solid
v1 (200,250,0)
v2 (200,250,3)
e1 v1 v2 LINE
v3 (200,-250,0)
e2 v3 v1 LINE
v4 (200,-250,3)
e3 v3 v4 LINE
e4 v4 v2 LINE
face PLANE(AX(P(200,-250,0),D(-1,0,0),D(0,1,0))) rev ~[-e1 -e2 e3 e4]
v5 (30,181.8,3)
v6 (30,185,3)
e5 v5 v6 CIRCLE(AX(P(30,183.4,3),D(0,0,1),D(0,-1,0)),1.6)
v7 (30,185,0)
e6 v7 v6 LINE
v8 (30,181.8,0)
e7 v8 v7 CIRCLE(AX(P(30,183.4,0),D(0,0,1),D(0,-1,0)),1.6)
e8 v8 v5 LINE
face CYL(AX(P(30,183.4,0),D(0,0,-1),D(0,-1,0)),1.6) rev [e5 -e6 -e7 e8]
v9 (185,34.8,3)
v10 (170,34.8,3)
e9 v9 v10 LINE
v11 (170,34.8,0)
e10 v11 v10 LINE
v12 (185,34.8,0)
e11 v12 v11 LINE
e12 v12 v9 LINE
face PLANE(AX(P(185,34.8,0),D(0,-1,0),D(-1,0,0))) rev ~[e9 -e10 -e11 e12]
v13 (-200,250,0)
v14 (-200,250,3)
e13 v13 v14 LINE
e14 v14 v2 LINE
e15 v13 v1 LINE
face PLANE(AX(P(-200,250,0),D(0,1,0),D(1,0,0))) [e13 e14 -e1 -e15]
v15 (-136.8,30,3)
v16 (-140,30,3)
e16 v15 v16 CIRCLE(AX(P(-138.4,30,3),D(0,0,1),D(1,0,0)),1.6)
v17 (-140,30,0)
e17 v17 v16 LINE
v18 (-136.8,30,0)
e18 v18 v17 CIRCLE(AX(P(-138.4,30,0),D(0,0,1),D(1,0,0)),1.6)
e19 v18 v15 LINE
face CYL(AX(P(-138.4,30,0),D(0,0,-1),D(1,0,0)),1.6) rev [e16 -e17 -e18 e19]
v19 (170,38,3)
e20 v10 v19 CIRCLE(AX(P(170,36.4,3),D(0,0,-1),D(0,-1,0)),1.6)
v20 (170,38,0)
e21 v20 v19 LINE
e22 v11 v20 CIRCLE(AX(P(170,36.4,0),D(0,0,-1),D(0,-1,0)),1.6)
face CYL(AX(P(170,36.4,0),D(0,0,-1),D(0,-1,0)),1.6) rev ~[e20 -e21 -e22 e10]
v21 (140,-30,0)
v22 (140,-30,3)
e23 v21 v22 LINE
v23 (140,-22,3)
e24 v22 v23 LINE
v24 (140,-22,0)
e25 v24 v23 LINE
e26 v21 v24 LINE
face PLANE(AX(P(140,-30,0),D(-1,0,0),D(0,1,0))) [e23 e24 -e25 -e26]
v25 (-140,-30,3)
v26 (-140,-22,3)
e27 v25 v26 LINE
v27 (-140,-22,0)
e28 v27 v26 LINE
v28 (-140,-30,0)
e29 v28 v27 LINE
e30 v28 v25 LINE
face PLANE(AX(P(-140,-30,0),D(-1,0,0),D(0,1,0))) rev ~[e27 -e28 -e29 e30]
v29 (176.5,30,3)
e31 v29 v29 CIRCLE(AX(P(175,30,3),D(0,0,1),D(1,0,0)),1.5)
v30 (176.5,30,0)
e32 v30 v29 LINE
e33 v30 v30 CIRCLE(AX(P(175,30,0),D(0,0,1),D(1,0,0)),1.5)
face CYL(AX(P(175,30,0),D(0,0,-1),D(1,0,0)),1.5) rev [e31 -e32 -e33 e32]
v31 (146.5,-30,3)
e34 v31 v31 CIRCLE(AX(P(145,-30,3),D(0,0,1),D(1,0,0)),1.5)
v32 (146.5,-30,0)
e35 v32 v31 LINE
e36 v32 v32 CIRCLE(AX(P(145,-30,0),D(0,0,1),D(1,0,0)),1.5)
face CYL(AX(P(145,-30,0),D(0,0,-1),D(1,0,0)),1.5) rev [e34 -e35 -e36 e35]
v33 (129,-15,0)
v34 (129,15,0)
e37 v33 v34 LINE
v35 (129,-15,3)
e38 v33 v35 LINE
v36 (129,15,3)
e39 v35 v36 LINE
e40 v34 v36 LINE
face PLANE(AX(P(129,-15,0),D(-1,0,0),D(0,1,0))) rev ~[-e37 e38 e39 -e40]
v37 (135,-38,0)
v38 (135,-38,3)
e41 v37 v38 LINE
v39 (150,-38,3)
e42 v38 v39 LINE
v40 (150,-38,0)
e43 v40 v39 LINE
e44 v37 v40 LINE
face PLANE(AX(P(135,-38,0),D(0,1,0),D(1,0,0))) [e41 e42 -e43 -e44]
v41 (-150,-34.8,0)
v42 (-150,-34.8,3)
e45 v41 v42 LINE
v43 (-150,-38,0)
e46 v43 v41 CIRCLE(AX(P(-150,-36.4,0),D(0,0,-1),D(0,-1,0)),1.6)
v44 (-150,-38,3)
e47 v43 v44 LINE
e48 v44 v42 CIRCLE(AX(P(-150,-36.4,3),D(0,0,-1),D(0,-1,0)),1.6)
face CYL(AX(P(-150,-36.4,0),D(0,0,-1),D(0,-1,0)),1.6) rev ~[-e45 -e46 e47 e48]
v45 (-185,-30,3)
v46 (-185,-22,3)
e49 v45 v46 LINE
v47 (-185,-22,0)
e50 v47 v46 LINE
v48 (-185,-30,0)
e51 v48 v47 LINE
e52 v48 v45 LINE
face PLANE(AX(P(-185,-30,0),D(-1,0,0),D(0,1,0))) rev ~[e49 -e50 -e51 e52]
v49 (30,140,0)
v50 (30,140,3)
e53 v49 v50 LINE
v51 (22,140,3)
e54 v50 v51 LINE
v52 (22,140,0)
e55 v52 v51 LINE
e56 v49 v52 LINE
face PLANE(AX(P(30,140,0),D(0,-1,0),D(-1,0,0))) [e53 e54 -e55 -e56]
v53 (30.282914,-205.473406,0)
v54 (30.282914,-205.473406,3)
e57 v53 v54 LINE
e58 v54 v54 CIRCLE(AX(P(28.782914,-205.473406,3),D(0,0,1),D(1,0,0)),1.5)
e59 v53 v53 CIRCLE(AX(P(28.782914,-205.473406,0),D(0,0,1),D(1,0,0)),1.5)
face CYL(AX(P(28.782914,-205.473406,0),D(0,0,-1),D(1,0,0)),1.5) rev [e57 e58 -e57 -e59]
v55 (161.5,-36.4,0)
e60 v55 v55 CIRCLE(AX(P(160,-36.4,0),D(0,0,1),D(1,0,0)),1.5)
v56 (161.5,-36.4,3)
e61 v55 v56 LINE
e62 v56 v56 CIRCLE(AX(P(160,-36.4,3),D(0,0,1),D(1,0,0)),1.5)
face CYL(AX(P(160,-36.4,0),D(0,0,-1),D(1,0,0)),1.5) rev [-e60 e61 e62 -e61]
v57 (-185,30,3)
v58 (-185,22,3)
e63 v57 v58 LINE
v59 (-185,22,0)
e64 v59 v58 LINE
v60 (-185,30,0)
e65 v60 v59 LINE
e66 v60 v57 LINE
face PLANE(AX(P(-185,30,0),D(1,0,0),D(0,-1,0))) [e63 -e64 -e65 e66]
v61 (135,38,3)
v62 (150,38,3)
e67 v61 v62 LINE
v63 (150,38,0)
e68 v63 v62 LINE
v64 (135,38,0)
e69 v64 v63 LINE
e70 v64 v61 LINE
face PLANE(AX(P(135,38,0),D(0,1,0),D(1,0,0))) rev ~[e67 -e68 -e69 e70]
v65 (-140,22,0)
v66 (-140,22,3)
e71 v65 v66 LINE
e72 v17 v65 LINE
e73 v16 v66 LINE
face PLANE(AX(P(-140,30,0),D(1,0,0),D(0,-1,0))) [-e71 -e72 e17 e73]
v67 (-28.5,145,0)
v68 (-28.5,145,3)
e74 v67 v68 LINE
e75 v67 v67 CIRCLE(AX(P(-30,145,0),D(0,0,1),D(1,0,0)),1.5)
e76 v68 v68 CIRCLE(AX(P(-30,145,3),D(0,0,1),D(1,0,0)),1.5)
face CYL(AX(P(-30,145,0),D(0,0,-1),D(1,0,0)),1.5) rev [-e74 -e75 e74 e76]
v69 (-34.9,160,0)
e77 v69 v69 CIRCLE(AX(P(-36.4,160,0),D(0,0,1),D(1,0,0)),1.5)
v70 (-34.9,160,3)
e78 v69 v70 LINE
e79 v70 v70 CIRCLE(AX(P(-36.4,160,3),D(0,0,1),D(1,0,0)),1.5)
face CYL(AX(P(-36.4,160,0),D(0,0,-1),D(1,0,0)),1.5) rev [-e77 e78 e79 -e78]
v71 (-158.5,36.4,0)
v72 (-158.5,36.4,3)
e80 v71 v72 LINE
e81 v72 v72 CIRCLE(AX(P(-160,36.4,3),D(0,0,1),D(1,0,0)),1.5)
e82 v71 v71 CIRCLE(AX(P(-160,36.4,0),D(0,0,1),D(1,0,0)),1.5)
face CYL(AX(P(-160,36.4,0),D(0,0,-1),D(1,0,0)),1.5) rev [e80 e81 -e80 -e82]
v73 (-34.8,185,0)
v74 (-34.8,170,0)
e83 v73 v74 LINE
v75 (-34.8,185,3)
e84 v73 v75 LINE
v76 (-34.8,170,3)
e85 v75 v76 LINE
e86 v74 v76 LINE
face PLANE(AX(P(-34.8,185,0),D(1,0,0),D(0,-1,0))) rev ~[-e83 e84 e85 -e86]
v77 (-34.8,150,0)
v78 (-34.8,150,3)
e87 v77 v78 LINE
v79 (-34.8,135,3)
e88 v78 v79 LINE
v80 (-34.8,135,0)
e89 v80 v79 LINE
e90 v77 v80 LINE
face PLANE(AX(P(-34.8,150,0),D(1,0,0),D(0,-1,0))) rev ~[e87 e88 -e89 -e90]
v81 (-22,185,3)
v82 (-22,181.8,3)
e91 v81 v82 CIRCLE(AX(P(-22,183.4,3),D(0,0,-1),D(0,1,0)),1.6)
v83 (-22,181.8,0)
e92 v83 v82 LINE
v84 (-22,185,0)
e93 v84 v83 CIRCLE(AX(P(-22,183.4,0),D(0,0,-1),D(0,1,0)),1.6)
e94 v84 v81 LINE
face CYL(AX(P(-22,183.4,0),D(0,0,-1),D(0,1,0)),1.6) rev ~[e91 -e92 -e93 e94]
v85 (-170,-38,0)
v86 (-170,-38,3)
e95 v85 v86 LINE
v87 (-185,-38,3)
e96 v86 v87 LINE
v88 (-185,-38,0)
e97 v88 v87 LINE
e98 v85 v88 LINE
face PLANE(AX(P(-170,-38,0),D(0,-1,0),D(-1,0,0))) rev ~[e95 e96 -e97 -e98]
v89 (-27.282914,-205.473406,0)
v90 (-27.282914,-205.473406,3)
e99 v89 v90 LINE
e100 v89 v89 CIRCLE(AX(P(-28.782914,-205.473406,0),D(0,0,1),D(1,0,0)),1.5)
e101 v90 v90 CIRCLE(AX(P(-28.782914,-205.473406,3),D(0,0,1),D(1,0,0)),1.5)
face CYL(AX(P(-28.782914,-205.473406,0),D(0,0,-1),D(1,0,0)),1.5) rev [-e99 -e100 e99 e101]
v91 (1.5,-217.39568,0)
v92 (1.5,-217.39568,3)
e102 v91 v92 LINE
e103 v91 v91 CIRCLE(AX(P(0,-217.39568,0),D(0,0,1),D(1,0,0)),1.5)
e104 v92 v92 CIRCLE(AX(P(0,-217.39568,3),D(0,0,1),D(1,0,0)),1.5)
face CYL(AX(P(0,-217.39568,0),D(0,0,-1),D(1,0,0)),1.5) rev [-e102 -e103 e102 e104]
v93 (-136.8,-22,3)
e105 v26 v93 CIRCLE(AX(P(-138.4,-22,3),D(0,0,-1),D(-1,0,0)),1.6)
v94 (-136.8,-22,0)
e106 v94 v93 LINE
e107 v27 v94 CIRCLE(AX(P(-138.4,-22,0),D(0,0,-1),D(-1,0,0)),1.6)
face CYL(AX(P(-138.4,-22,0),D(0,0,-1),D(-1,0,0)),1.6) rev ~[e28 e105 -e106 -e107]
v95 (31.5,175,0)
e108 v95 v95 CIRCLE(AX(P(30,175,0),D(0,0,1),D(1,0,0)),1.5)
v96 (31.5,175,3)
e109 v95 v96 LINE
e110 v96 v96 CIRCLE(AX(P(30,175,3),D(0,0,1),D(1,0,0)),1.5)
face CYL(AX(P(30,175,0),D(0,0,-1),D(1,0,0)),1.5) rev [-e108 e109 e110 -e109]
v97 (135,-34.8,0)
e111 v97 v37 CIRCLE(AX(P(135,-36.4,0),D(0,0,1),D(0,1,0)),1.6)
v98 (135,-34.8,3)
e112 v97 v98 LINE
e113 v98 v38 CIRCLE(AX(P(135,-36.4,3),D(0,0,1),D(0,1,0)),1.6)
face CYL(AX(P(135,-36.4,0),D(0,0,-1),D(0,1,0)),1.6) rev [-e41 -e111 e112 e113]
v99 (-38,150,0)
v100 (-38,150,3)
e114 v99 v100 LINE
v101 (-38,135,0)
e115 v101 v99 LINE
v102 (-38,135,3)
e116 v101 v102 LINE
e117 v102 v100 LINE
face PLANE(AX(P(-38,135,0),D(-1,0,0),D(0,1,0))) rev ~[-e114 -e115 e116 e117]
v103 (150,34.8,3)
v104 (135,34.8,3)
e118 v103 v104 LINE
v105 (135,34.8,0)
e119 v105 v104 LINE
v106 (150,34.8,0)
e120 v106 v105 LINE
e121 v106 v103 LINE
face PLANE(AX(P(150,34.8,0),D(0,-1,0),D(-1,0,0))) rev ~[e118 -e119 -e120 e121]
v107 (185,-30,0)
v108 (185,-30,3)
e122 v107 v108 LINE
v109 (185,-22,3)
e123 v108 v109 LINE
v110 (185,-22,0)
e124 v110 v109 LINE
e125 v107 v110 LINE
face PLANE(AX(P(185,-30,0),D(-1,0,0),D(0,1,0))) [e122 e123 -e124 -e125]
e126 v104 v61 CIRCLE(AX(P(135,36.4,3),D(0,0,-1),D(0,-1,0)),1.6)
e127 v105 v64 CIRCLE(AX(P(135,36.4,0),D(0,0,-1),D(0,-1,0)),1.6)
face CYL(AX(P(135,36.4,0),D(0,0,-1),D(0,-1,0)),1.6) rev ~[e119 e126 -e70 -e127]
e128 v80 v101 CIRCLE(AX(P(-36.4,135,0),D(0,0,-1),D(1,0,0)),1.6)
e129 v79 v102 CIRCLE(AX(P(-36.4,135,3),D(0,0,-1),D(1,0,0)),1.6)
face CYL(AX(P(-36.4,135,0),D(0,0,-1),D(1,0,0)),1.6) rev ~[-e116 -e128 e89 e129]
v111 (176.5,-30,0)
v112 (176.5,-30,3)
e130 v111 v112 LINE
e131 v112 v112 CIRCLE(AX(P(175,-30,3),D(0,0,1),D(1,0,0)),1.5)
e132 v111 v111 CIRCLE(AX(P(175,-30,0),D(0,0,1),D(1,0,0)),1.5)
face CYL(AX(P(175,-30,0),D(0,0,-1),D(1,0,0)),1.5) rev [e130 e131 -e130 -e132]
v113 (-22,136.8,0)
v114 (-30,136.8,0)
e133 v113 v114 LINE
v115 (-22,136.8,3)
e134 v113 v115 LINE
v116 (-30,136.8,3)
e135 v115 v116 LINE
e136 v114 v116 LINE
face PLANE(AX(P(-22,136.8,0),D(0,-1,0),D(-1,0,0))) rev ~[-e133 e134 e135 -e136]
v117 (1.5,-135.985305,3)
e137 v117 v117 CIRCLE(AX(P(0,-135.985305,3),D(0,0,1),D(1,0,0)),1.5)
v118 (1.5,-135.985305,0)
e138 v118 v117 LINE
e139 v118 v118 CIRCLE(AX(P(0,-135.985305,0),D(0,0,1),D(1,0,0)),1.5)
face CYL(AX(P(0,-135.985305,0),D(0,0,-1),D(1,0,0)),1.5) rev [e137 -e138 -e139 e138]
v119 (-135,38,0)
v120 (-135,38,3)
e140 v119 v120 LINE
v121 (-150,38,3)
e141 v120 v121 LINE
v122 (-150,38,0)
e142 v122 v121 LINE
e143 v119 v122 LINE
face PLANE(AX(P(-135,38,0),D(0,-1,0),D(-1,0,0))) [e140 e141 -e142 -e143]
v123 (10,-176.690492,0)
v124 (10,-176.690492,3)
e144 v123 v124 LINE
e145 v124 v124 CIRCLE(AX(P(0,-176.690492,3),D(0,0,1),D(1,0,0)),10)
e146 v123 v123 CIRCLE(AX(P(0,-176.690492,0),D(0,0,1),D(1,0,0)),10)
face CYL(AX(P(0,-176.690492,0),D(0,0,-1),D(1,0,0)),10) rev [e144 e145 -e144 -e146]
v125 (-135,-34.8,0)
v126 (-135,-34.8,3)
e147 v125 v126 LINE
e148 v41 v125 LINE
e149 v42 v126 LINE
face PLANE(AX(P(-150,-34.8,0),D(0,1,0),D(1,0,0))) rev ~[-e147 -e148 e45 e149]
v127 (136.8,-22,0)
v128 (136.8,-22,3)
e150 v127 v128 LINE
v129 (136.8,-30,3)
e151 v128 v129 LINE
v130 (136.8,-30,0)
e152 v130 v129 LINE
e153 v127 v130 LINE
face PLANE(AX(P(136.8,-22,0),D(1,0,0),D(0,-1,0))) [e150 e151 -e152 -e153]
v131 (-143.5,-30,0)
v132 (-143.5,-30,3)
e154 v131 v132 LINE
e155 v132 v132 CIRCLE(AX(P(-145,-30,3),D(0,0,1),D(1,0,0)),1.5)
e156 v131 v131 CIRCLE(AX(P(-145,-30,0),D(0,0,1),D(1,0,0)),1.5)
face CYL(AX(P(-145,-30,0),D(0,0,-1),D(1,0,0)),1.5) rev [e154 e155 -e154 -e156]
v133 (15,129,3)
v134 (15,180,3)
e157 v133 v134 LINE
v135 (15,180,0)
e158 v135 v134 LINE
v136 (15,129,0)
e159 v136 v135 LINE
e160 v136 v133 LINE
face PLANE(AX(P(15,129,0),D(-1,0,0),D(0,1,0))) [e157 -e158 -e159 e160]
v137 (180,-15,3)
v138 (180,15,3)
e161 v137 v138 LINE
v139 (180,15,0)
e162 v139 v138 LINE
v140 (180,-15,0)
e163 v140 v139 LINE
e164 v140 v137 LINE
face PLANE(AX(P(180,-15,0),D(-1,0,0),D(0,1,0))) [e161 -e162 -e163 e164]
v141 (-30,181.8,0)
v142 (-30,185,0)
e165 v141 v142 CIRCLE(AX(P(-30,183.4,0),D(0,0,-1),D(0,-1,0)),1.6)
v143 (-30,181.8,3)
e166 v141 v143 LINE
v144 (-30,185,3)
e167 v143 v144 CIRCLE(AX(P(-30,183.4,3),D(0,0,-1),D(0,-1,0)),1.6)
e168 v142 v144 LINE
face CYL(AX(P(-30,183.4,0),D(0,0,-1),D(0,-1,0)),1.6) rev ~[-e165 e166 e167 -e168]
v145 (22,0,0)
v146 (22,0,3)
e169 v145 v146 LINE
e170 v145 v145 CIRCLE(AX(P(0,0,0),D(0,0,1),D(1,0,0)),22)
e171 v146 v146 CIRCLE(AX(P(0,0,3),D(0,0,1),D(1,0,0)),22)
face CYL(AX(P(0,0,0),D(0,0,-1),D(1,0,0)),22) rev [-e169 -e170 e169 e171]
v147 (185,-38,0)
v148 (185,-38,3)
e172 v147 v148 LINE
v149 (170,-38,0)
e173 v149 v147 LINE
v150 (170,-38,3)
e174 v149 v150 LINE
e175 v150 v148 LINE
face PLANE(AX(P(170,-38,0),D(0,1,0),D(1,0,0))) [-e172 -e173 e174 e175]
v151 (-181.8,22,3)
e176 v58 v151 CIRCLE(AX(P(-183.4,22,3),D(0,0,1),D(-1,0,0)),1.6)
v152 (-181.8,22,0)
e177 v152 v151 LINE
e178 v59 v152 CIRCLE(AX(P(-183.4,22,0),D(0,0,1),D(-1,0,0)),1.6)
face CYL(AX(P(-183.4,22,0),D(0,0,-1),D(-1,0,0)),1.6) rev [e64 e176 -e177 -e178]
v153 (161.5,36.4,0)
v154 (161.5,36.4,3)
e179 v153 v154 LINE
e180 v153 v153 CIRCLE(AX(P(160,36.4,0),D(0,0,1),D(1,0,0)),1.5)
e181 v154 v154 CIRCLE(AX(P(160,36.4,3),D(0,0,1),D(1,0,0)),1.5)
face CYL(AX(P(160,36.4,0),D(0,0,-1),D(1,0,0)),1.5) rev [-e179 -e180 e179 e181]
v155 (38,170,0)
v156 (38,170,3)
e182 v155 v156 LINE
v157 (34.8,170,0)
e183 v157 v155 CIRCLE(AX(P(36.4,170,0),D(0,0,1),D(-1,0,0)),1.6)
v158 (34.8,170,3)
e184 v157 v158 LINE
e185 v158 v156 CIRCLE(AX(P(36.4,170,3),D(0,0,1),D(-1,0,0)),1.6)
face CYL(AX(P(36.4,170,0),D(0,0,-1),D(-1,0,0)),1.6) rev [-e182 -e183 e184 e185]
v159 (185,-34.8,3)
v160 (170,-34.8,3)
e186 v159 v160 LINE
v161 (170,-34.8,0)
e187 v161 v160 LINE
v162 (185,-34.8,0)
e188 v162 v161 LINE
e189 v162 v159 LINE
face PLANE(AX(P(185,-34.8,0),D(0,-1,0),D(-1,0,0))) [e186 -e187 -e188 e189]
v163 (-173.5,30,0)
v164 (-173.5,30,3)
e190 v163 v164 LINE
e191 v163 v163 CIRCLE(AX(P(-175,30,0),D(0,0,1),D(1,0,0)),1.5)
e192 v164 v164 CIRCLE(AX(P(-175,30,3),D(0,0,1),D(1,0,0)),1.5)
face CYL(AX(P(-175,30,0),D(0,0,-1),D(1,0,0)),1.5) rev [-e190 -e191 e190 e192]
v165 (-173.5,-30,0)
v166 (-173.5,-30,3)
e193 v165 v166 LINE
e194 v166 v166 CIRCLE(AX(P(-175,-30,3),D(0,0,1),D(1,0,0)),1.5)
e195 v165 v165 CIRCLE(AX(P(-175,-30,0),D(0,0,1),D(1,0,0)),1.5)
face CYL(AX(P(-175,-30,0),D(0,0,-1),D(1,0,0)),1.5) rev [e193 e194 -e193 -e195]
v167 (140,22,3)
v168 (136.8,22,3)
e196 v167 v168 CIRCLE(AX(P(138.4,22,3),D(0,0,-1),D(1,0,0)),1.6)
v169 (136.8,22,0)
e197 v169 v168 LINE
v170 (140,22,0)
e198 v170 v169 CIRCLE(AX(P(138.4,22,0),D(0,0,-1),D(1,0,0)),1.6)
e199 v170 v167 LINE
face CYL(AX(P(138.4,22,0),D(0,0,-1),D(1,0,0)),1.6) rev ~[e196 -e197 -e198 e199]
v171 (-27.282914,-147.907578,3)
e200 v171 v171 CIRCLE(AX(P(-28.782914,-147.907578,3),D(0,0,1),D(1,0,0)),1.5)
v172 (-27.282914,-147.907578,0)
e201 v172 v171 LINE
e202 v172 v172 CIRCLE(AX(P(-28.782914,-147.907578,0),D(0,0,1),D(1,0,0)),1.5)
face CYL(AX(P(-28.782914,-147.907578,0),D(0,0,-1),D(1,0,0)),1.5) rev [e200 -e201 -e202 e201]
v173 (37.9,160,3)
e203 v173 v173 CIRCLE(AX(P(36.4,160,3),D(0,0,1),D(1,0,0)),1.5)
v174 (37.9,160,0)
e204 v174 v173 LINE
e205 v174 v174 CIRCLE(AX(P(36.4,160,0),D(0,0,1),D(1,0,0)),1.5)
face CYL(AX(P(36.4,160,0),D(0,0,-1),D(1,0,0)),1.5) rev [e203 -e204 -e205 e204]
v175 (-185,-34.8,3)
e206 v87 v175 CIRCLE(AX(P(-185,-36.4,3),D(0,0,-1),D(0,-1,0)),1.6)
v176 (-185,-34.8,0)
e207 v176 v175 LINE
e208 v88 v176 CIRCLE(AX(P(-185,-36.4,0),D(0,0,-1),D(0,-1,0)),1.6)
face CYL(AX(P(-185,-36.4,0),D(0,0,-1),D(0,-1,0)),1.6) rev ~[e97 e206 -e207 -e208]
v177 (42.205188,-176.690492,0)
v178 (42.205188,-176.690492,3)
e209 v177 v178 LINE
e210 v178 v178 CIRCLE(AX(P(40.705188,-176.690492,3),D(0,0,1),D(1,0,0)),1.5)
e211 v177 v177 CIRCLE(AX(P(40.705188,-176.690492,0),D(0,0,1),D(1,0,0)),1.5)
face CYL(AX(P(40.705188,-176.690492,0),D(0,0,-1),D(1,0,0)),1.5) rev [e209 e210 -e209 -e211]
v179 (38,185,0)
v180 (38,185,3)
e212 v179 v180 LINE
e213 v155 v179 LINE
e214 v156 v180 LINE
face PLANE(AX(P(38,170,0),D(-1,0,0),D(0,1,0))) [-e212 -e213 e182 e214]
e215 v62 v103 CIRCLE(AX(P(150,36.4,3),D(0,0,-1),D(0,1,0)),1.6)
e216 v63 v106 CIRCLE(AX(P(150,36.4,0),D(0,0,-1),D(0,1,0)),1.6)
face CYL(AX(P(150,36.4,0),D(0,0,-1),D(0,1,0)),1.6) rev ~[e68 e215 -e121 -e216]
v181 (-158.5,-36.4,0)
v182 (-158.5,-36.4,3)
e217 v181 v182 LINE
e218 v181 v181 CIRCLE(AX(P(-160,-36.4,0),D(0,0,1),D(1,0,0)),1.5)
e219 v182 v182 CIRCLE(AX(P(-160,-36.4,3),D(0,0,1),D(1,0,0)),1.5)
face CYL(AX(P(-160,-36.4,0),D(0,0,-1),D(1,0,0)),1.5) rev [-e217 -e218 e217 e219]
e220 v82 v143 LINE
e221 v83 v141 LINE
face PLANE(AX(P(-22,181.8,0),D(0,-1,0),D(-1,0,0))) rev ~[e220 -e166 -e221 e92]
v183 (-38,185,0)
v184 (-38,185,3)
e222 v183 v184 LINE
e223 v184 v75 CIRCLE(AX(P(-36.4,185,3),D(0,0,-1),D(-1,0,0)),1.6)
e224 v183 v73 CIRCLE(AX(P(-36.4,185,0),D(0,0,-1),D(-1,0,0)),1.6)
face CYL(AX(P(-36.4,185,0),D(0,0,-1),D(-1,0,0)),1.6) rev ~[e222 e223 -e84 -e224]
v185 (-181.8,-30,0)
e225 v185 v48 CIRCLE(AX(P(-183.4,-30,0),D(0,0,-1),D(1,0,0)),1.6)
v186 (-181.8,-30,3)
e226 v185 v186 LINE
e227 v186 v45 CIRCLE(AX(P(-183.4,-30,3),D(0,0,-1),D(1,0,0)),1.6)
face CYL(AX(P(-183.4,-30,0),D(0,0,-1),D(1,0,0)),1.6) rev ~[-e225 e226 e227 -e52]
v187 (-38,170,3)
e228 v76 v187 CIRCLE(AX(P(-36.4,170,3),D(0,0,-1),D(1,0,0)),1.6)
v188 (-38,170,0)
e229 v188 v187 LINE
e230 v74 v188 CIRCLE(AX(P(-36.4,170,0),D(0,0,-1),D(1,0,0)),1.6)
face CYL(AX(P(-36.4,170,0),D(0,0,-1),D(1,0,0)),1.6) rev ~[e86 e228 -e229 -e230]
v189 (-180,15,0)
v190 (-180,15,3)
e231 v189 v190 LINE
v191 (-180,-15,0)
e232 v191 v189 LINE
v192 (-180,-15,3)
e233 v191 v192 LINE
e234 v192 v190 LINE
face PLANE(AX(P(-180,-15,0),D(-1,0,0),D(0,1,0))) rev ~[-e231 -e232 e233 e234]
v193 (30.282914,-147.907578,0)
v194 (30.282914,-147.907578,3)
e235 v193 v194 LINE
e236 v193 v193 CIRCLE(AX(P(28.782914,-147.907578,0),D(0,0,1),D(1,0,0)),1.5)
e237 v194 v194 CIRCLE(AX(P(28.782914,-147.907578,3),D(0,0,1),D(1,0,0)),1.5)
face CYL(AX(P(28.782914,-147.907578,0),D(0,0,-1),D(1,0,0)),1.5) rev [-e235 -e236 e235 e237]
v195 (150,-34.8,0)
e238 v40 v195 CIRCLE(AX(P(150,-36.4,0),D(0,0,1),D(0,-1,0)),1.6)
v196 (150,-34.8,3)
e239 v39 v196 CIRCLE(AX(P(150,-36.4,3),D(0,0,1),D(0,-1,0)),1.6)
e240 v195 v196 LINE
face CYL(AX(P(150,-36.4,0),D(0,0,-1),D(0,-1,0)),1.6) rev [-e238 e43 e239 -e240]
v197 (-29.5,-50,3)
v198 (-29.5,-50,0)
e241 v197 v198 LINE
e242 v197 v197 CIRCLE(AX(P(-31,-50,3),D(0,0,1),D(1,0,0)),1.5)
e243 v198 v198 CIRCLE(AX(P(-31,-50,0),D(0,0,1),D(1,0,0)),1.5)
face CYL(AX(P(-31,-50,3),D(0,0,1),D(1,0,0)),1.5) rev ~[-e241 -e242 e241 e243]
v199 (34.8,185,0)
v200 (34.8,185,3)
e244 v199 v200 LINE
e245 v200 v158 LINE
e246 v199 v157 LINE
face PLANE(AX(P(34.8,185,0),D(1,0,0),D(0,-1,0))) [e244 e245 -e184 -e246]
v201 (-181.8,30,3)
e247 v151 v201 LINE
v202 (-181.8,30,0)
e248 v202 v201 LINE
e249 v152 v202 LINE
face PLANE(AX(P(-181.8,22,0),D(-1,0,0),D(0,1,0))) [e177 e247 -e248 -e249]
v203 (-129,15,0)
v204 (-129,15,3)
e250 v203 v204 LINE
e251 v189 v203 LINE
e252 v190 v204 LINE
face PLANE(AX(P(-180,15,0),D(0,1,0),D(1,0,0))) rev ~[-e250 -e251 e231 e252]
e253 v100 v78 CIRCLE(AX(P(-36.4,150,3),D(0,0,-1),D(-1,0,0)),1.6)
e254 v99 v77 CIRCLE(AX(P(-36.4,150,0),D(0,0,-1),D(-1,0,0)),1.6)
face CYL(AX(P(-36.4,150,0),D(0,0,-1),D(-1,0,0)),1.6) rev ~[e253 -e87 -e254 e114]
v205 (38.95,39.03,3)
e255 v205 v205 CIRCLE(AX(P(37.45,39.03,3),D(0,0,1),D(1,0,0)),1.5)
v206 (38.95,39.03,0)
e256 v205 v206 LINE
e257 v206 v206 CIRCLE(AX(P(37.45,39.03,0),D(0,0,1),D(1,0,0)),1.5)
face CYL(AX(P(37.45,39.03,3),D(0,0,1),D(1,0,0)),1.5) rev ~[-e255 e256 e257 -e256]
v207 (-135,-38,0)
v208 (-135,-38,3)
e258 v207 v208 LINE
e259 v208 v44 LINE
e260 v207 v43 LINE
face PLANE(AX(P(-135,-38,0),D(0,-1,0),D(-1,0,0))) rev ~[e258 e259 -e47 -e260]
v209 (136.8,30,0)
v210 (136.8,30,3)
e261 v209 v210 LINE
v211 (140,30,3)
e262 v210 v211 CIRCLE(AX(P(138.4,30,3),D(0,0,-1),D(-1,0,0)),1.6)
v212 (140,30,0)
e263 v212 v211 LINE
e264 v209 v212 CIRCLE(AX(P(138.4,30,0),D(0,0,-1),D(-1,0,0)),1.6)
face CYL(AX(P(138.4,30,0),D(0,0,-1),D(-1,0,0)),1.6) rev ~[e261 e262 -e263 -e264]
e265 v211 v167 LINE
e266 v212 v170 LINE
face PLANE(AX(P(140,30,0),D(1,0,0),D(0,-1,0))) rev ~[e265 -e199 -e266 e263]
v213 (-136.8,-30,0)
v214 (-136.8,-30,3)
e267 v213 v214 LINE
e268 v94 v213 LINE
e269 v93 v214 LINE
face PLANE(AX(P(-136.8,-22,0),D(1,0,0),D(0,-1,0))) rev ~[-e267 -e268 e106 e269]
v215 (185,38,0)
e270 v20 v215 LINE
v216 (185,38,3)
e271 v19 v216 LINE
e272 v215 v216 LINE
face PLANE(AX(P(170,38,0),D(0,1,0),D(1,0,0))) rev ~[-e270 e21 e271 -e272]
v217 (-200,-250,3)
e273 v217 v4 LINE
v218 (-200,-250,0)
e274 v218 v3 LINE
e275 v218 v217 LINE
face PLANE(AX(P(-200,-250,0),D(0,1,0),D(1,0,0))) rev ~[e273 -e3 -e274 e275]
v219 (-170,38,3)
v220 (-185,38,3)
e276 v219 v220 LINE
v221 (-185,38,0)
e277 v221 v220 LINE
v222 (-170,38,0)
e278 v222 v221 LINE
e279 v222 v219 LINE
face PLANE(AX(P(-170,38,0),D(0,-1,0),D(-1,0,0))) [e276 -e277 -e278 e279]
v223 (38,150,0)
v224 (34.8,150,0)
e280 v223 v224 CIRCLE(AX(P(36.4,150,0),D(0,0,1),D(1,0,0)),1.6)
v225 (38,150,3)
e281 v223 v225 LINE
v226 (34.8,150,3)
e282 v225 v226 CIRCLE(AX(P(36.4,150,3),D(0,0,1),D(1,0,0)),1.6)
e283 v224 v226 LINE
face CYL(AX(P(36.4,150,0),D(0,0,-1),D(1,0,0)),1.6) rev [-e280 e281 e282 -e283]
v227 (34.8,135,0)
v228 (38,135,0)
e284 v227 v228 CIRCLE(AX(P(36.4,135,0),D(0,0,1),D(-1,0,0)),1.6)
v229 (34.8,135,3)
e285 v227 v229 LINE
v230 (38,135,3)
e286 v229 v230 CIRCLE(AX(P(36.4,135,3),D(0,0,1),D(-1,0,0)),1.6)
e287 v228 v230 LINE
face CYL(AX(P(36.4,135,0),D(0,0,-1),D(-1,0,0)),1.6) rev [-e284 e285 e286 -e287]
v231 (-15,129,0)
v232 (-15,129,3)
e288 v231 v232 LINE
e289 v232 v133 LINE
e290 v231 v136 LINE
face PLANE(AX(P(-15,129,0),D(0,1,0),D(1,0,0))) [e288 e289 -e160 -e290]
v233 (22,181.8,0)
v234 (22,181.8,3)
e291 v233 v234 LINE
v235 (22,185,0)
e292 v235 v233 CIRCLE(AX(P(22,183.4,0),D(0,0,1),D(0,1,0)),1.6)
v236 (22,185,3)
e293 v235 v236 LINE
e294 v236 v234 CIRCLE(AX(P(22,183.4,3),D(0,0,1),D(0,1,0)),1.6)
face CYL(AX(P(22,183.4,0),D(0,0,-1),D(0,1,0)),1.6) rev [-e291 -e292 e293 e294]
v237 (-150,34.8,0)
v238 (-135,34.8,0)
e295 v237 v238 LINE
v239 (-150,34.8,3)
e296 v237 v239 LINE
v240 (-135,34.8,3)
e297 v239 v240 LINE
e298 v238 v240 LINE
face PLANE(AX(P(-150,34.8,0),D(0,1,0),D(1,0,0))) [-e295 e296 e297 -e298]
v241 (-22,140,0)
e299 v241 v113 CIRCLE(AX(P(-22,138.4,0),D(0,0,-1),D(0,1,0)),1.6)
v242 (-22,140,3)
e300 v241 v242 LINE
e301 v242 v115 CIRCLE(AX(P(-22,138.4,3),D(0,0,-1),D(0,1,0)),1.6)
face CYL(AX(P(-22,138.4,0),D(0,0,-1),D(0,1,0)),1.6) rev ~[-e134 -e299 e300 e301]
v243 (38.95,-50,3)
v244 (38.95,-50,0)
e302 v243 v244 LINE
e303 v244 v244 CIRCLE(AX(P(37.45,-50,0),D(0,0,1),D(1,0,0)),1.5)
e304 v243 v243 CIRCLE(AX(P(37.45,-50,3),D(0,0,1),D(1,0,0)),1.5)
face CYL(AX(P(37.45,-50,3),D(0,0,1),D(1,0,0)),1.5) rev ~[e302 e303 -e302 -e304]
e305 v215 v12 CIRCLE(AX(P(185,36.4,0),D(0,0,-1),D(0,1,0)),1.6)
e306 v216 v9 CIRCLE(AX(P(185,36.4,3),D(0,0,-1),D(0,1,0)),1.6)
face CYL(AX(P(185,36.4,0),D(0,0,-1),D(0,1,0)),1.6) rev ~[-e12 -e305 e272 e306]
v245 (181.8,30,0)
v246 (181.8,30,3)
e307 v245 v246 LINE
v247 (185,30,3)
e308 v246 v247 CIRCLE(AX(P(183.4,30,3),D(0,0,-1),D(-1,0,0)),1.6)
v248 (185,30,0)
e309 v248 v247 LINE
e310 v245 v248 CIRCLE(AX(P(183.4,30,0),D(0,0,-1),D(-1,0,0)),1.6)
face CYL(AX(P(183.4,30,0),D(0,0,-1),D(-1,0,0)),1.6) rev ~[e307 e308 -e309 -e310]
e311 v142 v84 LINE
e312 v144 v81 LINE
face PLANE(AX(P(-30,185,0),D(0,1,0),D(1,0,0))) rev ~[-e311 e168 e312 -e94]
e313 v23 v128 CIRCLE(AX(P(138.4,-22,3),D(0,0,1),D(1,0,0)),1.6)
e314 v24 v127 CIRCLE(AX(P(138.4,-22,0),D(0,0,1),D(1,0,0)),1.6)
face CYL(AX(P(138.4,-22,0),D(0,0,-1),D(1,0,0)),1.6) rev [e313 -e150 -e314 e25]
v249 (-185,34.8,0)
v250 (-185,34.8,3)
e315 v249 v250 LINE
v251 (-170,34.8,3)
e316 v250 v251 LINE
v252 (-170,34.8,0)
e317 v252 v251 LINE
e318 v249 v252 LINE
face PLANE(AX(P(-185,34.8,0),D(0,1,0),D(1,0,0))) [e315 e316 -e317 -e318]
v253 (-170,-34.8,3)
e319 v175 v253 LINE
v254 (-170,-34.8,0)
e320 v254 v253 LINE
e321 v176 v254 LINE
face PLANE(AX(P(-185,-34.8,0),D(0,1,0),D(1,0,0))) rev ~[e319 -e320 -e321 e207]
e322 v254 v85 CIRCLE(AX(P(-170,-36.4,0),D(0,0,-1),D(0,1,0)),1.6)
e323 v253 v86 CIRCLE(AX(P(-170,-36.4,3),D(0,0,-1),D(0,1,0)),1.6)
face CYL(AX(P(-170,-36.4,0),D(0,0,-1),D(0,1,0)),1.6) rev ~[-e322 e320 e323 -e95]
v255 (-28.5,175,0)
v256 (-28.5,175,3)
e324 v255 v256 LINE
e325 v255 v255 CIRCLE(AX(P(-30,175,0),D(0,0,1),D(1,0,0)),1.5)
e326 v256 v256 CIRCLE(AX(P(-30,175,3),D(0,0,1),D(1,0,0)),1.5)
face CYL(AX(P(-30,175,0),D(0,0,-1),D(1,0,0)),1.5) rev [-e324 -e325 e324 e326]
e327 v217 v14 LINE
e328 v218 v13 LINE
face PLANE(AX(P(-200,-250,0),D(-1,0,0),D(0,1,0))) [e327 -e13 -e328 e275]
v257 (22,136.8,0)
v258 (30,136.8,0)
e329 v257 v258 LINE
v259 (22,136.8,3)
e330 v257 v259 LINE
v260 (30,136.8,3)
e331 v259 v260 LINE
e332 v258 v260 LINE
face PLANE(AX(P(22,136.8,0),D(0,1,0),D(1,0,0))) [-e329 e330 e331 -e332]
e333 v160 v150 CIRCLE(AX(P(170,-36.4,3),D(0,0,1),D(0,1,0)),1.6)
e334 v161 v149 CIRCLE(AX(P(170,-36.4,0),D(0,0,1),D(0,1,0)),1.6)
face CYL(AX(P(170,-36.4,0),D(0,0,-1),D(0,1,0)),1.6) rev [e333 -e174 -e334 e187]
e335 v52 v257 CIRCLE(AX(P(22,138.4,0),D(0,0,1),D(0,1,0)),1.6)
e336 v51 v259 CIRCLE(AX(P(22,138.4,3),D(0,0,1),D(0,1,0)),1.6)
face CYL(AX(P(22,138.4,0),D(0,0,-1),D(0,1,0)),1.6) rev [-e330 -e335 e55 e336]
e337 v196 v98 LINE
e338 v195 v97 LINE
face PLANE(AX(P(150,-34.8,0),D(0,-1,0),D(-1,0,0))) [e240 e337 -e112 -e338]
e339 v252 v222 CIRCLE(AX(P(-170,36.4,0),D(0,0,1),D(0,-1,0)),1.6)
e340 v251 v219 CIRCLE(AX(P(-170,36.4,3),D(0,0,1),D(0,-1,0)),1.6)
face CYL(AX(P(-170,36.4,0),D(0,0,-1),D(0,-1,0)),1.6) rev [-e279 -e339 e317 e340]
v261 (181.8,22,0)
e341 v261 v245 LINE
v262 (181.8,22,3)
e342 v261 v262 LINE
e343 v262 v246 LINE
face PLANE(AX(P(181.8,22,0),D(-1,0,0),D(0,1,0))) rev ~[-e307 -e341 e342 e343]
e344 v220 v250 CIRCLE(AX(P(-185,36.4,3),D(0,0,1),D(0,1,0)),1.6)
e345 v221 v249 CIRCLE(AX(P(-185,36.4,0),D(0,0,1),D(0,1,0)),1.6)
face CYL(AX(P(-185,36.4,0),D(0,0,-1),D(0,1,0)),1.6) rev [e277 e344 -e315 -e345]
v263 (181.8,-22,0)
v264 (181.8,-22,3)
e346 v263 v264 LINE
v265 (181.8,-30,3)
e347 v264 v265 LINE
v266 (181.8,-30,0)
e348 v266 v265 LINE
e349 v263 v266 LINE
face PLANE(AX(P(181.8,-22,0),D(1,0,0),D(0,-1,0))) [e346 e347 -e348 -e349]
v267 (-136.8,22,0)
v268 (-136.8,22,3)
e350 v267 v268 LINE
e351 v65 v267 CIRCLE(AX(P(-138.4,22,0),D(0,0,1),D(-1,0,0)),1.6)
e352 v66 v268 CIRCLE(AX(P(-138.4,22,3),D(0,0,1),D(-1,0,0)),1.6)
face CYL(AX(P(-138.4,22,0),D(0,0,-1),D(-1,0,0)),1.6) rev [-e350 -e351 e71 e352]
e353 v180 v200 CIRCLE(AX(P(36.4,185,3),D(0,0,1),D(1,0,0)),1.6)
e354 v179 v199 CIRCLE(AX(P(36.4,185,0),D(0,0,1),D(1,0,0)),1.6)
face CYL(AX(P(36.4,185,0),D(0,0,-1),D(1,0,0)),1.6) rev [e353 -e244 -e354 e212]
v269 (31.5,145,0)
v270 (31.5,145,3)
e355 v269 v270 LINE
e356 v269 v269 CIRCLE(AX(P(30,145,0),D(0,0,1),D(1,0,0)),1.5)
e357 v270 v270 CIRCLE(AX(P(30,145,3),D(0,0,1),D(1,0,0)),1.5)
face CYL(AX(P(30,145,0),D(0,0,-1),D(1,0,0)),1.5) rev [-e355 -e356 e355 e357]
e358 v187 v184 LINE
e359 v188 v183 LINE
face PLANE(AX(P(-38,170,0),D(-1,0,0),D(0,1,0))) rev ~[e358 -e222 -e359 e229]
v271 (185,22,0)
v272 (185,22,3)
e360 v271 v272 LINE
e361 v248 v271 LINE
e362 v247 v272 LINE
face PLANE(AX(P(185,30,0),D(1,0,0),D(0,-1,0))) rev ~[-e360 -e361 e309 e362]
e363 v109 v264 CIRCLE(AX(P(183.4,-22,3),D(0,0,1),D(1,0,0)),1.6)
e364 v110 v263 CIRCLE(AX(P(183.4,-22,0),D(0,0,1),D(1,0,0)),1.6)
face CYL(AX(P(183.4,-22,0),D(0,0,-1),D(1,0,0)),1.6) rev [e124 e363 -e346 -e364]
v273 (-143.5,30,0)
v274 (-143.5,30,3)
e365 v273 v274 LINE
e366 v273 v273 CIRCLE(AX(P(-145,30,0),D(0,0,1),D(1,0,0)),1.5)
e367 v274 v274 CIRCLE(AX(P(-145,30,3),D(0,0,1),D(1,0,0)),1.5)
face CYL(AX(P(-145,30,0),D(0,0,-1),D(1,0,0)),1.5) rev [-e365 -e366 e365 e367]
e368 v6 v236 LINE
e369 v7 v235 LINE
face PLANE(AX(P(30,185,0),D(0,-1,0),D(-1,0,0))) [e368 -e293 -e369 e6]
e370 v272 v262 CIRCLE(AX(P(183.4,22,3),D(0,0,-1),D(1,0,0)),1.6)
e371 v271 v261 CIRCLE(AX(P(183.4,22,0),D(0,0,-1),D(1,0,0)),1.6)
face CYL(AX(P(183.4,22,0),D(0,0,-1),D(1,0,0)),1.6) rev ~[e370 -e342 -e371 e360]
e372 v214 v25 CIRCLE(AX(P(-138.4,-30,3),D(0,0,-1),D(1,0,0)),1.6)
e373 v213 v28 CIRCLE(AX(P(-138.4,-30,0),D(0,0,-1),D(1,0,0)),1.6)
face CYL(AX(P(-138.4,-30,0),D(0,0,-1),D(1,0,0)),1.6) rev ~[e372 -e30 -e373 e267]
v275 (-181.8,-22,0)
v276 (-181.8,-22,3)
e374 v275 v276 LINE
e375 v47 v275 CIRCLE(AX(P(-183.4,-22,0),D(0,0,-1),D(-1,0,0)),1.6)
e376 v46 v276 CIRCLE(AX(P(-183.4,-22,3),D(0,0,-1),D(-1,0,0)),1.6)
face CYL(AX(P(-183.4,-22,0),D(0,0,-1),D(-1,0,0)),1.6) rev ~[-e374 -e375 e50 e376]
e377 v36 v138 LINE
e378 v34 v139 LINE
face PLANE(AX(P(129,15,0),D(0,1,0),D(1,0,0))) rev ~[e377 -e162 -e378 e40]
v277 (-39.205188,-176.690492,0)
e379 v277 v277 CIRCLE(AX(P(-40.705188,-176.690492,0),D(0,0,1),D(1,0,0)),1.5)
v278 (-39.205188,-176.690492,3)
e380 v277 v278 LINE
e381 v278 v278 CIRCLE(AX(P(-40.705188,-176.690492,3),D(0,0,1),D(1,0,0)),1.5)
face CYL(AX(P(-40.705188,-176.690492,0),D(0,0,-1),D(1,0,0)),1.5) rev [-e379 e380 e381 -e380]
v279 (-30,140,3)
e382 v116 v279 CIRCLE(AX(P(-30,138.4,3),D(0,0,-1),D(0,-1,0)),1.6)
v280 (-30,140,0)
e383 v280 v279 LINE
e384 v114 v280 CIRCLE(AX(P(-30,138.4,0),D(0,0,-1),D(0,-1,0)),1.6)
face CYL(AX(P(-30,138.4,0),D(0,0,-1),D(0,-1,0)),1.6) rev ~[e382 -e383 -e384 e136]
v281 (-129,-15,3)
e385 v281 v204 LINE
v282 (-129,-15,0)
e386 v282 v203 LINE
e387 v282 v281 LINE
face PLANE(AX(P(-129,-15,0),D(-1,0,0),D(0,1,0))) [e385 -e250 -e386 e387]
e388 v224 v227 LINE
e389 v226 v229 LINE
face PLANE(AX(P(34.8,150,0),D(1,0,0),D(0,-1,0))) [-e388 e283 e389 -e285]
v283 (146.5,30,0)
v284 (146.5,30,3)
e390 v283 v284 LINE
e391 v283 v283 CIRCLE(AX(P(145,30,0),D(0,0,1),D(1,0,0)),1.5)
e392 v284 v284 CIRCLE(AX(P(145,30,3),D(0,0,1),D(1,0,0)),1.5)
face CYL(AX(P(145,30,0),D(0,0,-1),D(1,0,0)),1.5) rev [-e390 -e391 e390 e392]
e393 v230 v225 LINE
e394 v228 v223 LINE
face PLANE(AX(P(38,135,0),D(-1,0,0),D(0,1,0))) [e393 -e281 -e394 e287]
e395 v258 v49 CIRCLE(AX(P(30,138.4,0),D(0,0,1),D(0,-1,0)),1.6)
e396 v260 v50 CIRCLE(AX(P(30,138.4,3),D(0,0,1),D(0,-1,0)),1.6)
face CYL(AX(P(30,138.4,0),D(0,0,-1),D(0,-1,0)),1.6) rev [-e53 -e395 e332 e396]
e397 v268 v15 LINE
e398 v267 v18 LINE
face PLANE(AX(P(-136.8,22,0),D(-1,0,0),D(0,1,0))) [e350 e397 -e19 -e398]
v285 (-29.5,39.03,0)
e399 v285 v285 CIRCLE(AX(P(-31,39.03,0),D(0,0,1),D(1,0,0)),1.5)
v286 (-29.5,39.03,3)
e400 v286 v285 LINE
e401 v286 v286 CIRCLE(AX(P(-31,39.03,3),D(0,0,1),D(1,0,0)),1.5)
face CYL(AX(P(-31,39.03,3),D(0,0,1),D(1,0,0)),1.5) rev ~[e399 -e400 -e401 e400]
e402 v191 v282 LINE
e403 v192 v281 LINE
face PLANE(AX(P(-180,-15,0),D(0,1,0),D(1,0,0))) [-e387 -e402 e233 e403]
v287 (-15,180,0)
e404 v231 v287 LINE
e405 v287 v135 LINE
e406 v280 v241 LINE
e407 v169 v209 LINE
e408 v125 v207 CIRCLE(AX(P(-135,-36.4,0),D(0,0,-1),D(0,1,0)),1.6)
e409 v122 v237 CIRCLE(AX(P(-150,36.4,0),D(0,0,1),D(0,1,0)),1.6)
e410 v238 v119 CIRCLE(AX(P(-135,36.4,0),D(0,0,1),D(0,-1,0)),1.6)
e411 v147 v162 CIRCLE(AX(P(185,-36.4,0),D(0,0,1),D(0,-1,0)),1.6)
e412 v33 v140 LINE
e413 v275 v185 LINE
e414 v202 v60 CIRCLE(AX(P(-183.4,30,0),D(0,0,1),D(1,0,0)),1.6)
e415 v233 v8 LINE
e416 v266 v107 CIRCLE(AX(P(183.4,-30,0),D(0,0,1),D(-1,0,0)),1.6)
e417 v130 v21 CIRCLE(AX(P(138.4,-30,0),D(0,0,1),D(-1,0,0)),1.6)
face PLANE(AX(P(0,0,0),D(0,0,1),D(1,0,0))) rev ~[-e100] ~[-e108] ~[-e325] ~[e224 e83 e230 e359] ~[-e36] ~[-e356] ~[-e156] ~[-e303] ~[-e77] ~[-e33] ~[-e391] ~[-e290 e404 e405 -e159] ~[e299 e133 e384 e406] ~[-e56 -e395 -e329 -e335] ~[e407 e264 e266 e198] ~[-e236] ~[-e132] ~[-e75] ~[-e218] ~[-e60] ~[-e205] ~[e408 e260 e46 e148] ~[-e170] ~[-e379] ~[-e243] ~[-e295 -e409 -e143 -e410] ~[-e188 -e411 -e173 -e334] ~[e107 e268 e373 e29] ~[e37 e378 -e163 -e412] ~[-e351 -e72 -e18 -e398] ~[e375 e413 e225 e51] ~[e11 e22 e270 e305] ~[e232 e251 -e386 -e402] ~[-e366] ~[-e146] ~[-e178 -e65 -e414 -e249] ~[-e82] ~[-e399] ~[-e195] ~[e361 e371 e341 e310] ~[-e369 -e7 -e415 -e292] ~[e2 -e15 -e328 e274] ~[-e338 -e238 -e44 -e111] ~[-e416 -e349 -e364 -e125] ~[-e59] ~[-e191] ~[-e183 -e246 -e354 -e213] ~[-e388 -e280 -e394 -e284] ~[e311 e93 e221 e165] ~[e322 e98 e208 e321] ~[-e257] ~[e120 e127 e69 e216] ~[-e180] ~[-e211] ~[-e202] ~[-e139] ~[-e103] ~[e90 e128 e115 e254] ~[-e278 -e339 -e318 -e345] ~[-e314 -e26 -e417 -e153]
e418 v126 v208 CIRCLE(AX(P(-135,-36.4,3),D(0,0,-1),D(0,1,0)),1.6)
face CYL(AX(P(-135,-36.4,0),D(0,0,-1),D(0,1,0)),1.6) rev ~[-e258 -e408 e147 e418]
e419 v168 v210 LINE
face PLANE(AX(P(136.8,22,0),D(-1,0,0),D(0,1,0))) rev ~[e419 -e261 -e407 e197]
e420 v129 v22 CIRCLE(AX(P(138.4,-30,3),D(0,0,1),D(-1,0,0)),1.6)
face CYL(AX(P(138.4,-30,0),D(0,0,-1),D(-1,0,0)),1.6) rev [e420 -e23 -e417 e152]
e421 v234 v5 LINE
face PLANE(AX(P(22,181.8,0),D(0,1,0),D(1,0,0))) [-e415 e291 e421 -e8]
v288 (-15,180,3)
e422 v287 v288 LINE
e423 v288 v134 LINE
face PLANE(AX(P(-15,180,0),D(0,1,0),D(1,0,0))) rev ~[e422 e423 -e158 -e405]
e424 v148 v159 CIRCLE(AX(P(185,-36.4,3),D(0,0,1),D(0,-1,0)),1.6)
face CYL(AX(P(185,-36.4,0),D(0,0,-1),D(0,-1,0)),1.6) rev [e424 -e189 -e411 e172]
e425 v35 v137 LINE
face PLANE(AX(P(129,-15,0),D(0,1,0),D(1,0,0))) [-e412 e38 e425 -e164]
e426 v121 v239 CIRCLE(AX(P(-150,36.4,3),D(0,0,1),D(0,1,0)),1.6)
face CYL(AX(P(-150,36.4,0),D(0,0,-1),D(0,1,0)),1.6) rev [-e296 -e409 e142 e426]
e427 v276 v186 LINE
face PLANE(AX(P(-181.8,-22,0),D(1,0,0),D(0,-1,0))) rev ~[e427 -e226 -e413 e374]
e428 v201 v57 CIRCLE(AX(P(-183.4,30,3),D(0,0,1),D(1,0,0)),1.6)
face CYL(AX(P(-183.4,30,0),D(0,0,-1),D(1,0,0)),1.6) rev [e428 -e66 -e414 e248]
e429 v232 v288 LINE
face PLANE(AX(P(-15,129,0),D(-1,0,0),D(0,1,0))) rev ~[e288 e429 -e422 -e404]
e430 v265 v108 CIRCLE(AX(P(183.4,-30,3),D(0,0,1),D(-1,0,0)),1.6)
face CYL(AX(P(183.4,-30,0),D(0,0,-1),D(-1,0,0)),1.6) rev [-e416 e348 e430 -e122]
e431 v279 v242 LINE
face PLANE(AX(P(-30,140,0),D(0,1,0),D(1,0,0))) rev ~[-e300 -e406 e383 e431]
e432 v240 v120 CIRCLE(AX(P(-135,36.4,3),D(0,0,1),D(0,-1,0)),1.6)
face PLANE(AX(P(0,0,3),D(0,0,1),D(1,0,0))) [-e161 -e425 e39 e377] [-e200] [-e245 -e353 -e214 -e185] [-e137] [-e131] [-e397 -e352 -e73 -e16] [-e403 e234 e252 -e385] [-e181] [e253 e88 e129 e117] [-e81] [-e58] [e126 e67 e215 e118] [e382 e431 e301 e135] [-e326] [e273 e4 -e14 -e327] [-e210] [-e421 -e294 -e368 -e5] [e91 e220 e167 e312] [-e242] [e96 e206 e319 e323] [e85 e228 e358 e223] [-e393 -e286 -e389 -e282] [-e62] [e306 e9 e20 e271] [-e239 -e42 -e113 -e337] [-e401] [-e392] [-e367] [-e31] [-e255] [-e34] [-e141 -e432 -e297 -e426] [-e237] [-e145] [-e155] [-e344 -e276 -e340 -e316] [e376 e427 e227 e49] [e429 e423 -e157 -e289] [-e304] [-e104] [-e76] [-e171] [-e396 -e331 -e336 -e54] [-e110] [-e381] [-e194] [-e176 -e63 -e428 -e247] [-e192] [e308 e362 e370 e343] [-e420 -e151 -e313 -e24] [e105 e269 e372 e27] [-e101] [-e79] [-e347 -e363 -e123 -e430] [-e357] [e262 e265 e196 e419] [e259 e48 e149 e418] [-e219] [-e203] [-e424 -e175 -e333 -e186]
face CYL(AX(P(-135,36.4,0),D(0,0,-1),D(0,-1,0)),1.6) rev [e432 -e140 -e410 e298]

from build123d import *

# Parameters (mm, degrees)
SKETCH_1_W          = 400
SKETCH_1_H          = 500
SKETCH_1_R          = 1.5
SKETCH_1_R_2        = 22
SKETCH_1_R_3        = 10
SKETCH_1_W_2        = 30
SKETCH_1_H_2        = 51
SKETCH_1_W_3        = 51
SKETCH_1_H_3        = 30
EXTRUDE_1_DEPTH     = 3
SKETCH_2_R          = 1.5
CUT_EXTRUDE_1_DEPTH = 321.170267202


with BuildPart() as part:
    # 草图1 → 凸台-拉伸1 (new body)
    with BuildSketch(Plane.XY):
        Rectangle(SKETCH_1_W, SKETCH_1_H)
        with Locations((-36.4, 160)):
            Circle(SKETCH_1_R, mode=Mode.SUBTRACT)
        with Locations((-30, 145)):
            Circle(SKETCH_1_R, mode=Mode.SUBTRACT)
        with Locations((-30, 175)):
            Circle(SKETCH_1_R, mode=Mode.SUBTRACT)
        with Locations((36.4, 160)):
            Circle(SKETCH_1_R, mode=Mode.SUBTRACT)
        with Locations((30, 175)):
            Circle(SKETCH_1_R, mode=Mode.SUBTRACT)
        with Locations((30, 145)):
            Circle(SKETCH_1_R, mode=Mode.SUBTRACT)
        with Locations((160, -36.4)):
            Circle(SKETCH_1_R, mode=Mode.SUBTRACT)
        with Locations((145, -30)):
            Circle(SKETCH_1_R, mode=Mode.SUBTRACT)
        with Locations((175, -30)):
            Circle(SKETCH_1_R, mode=Mode.SUBTRACT)
        with Locations((160, 36.4)):
            Circle(SKETCH_1_R, mode=Mode.SUBTRACT)
        with Locations((175, 30)):
            Circle(SKETCH_1_R, mode=Mode.SUBTRACT)
        with Locations((145, 30)):
            Circle(SKETCH_1_R, mode=Mode.SUBTRACT)
        with Locations((-160, 36.4)):
            Circle(SKETCH_1_R, mode=Mode.SUBTRACT)
        with Locations((-145, 30)):
            Circle(SKETCH_1_R, mode=Mode.SUBTRACT)
        with Locations((-175, 30)):
            Circle(SKETCH_1_R, mode=Mode.SUBTRACT)
        with Locations((-160, -36.4)):
            Circle(SKETCH_1_R, mode=Mode.SUBTRACT)
        with Locations((-175, -30)):
            Circle(SKETCH_1_R, mode=Mode.SUBTRACT)
        with Locations((-145, -30)):
            Circle(SKETCH_1_R, mode=Mode.SUBTRACT)
        Circle(SKETCH_1_R_2, mode=Mode.SUBTRACT)
        with Locations((0, -176.690492226)):
            Circle(SKETCH_1_R_3, mode=Mode.SUBTRACT)
        with Locations((0, -135.985304682)):
            Circle(SKETCH_1_R, mode=Mode.SUBTRACT)
        with Locations((28.782914142, -147.907578084)):
            Circle(SKETCH_1_R, mode=Mode.SUBTRACT)
        with Locations((40.705187545, -176.690492226)):
            Circle(SKETCH_1_R, mode=Mode.SUBTRACT)
        with Locations((28.782914142, -205.473406369)):
            Circle(SKETCH_1_R, mode=Mode.SUBTRACT)
        with Locations((0, -217.395679771)):
            Circle(SKETCH_1_R, mode=Mode.SUBTRACT)
        with Locations((-28.782914142, -205.473406369)):
            Circle(SKETCH_1_R, mode=Mode.SUBTRACT)
        with Locations((-40.705187545, -176.690492226)):
            Circle(SKETCH_1_R, mode=Mode.SUBTRACT)
        with Locations((-28.782914142, -147.907578084)):
            Circle(SKETCH_1_R, mode=Mode.SUBTRACT)
        with BuildLine():
            Line((-34.8, 185), (-34.8, 170))
            ThreePointArc((-34.8, 170), (-36.4, 168.4), (-38, 170))
            Line((-38, 170), (-38, 185))
            ThreePointArc((-38, 185), (-36.4, 186.6), (-34.8, 185))
        make_face(mode=Mode.SUBTRACT)
        with BuildLine():
            Line((-38, 135), (-38, 150))
            ThreePointArc((-38, 150), (-36.4, 151.6), (-34.8, 150))
            Line((-34.8, 150), (-34.8, 135))
            ThreePointArc((-34.8, 135), (-36.4, 133.4), (-38, 135))
        make_face(mode=Mode.SUBTRACT)
        with BuildLine():
            Line((-22, 181.8), (-30, 181.8))
            ThreePointArc((-30, 181.8), (-31.6, 183.4), (-30, 185))
            Line((-30, 185), (-22, 185))
            ThreePointArc((-22, 185), (-20.4, 183.4), (-22, 181.8))
        make_face(mode=Mode.SUBTRACT)
        with BuildLine():
            Line((-30, 140), (-22, 140))
            ThreePointArc((-22, 140), (-20.4, 138.4), (-22, 136.8))
            Line((-22, 136.8), (-30, 136.8))
            ThreePointArc((-30, 136.8), (-31.6, 138.4), (-30, 140))
        make_face(mode=Mode.SUBTRACT)
        with BuildLine():
            Line((30, 140), (22, 140))
            ThreePointArc((22, 140), (20.4, 138.4), (22, 136.8))
            Line((22, 136.8), (30, 136.8))
            ThreePointArc((30, 136.8), (31.6, 138.4), (30, 140))
        make_face(mode=Mode.SUBTRACT)
        with BuildLine():
            Line((38, 135), (38, 150))
            ThreePointArc((38, 150), (36.4, 151.6), (34.8, 150))
            Line((34.8, 150), (34.8, 135))
            ThreePointArc((34.8, 135), (36.4, 133.4), (38, 135))
        make_face(mode=Mode.SUBTRACT)
        with BuildLine():
            Line((34.8, 185), (34.8, 170))
            ThreePointArc((34.8, 170), (36.4, 168.4), (38, 170))
            Line((38, 170), (38, 185))
            ThreePointArc((38, 185), (36.4, 186.6), (34.8, 185))
        make_face(mode=Mode.SUBTRACT)
        with BuildLine():
            Line((22, 181.8), (30, 181.8))
            ThreePointArc((30, 181.8), (31.6, 183.4), (30, 185))
            Line((30, 185), (22, 185))
            ThreePointArc((22, 185), (20.4, 183.4), (22, 181.8))
        make_face(mode=Mode.SUBTRACT)
        with Locations((0, 154.5)):
            Rectangle(SKETCH_1_W_2, SKETCH_1_H_2, mode=Mode.SUBTRACT)
        with Locations((154.5, 0)):
            Rectangle(SKETCH_1_W_3, SKETCH_1_H_3, mode=Mode.SUBTRACT)
        with BuildLine():
            Line((185, 34.8), (170, 34.8))
            ThreePointArc((170, 34.8), (168.4, 36.4), (170, 38))
            Line((170, 38), (185, 38))
            ThreePointArc((185, 38), (186.6, 36.4), (185, 34.8))
        make_face(mode=Mode.SUBTRACT)
        with BuildLine():
            Line((135, 38), (150, 38))
            ThreePointArc((150, 38), (151.6, 36.4), (150, 34.8))
            Line((150, 34.8), (135, 34.8))
            ThreePointArc((135, 34.8), (133.4, 36.4), (135, 38))
        make_face(mode=Mode.SUBTRACT)
        with BuildLine():
            Line((181.8, 22), (181.8, 30))
            ThreePointArc((181.8, 30), (183.4, 31.6), (185, 30))
            Line((185, 30), (185, 22))
            ThreePointArc((185, 22), (183.4, 20.4), (181.8, 22))
        make_face(mode=Mode.SUBTRACT)
        with BuildLine():
            Line((140, 30), (140, 22))
            ThreePointArc((140, 22), (138.4, 20.4), (136.8, 22))
            Line((136.8, 22), (136.8, 30))
            ThreePointArc((136.8, 30), (138.4, 31.6), (140, 30))
        make_face(mode=Mode.SUBTRACT)
        with BuildLine():
            Line((140, -30), (140, -22))
            ThreePointArc((140, -22), (138.4, -20.4), (136.8, -22))
            Line((136.8, -22), (136.8, -30))
            ThreePointArc((136.8, -30), (138.4, -31.6), (140, -30))
        make_face(mode=Mode.SUBTRACT)
        with BuildLine():
            Line((135, -38), (150, -38))
            ThreePointArc((150, -38), (151.6, -36.4), (150, -34.8))
            Line((150, -34.8), (135, -34.8))
            ThreePointArc((135, -34.8), (133.4, -36.4), (135, -38))
        make_face(mode=Mode.SUBTRACT)
        with BuildLine():
            Line((185, -34.8), (170, -34.8))
            ThreePointArc((170, -34.8), (168.4, -36.4), (170, -38))
            Line((170, -38), (185, -38))
            ThreePointArc((185, -38), (186.6, -36.4), (185, -34.8))
        make_face(mode=Mode.SUBTRACT)
        with BuildLine():
            Line((181.8, -22), (181.8, -30))
            ThreePointArc((181.8, -30), (183.4, -31.6), (185, -30))
            Line((185, -30), (185, -22))
            ThreePointArc((185, -22), (183.4, -20.4), (181.8, -22))
        make_face(mode=Mode.SUBTRACT)
        with Locations((-154.5, 0)):
            Rectangle(SKETCH_1_W_3, SKETCH_1_H_3, mode=Mode.SUBTRACT)
        with BuildLine():
            Line((-185, -34.8), (-170, -34.8))
            ThreePointArc((-170, -34.8), (-168.4, -36.4), (-170, -38))
            Line((-170, -38), (-185, -38))
            ThreePointArc((-185, -38), (-186.6, -36.4), (-185, -34.8))
        make_face(mode=Mode.SUBTRACT)
        with BuildLine():
            Line((-135, -38), (-150, -38))
            ThreePointArc((-150, -38), (-151.6, -36.4), (-150, -34.8))
            Line((-150, -34.8), (-135, -34.8))
            ThreePointArc((-135, -34.8), (-133.4, -36.4), (-135, -38))
        make_face(mode=Mode.SUBTRACT)
        with BuildLine():
            Line((-181.8, -22), (-181.8, -30))
            ThreePointArc((-181.8, -30), (-183.4, -31.6), (-185, -30))
            Line((-185, -30), (-185, -22))
            ThreePointArc((-185, -22), (-183.4, -20.4), (-181.8, -22))
        make_face(mode=Mode.SUBTRACT)
        with BuildLine():
            Line((-140, -30), (-140, -22))
            ThreePointArc((-140, -22), (-138.4, -20.4), (-136.8, -22))
            Line((-136.8, -22), (-136.8, -30))
            ThreePointArc((-136.8, -30), (-138.4, -31.6), (-140, -30))
        make_face(mode=Mode.SUBTRACT)
        with BuildLine():
            Line((-140, 30), (-140, 22))
            ThreePointArc((-140, 22), (-138.4, 20.4), (-136.8, 22))
            Line((-136.8, 22), (-136.8, 30))
            ThreePointArc((-136.8, 30), (-138.4, 31.6), (-140, 30))
        make_face(mode=Mode.SUBTRACT)
        with BuildLine():
            Line((-135, 38), (-150, 38))
            ThreePointArc((-150, 38), (-151.6, 36.4), (-150, 34.8))
            Line((-150, 34.8), (-135, 34.8))
            ThreePointArc((-135, 34.8), (-133.4, 36.4), (-135, 38))
        make_face(mode=Mode.SUBTRACT)
        with BuildLine():
            Line((-185, 34.8), (-170, 34.8))
            ThreePointArc((-170, 34.8), (-168.4, 36.4), (-170, 38))
            Line((-170, 38), (-185, 38))
            ThreePointArc((-185, 38), (-186.6, 36.4), (-185, 34.8))
        make_face(mode=Mode.SUBTRACT)
        with BuildLine():
            Line((-181.8, 22), (-181.8, 30))
            ThreePointArc((-181.8, 30), (-183.4, 31.6), (-185, 30))
            Line((-185, 30), (-185, 22))
            ThreePointArc((-185, 22), (-183.4, 20.4), (-181.8, 22))
        make_face(mode=Mode.SUBTRACT)
    extrude(amount=EXTRUDE_1_DEPTH)

    # 草图2 → 切除-拉伸1 (cut, through all)
    with BuildSketch(Plane.XY.offset(3)):
        with Locations((-31, 39.03)):
            Circle(SKETCH_2_R)
        with Locations((37.45, 39.03)):
            Circle(SKETCH_2_R)
        with Locations((-31, -50)):
            Circle(SKETCH_2_R)
        with Locations((37.45, -50)):
            Circle(SKETCH_2_R)
    extrude(amount=-CUT_EXTRUDE_1_DEPTH, mode=Mode.SUBTRACT)


solid = part.part
